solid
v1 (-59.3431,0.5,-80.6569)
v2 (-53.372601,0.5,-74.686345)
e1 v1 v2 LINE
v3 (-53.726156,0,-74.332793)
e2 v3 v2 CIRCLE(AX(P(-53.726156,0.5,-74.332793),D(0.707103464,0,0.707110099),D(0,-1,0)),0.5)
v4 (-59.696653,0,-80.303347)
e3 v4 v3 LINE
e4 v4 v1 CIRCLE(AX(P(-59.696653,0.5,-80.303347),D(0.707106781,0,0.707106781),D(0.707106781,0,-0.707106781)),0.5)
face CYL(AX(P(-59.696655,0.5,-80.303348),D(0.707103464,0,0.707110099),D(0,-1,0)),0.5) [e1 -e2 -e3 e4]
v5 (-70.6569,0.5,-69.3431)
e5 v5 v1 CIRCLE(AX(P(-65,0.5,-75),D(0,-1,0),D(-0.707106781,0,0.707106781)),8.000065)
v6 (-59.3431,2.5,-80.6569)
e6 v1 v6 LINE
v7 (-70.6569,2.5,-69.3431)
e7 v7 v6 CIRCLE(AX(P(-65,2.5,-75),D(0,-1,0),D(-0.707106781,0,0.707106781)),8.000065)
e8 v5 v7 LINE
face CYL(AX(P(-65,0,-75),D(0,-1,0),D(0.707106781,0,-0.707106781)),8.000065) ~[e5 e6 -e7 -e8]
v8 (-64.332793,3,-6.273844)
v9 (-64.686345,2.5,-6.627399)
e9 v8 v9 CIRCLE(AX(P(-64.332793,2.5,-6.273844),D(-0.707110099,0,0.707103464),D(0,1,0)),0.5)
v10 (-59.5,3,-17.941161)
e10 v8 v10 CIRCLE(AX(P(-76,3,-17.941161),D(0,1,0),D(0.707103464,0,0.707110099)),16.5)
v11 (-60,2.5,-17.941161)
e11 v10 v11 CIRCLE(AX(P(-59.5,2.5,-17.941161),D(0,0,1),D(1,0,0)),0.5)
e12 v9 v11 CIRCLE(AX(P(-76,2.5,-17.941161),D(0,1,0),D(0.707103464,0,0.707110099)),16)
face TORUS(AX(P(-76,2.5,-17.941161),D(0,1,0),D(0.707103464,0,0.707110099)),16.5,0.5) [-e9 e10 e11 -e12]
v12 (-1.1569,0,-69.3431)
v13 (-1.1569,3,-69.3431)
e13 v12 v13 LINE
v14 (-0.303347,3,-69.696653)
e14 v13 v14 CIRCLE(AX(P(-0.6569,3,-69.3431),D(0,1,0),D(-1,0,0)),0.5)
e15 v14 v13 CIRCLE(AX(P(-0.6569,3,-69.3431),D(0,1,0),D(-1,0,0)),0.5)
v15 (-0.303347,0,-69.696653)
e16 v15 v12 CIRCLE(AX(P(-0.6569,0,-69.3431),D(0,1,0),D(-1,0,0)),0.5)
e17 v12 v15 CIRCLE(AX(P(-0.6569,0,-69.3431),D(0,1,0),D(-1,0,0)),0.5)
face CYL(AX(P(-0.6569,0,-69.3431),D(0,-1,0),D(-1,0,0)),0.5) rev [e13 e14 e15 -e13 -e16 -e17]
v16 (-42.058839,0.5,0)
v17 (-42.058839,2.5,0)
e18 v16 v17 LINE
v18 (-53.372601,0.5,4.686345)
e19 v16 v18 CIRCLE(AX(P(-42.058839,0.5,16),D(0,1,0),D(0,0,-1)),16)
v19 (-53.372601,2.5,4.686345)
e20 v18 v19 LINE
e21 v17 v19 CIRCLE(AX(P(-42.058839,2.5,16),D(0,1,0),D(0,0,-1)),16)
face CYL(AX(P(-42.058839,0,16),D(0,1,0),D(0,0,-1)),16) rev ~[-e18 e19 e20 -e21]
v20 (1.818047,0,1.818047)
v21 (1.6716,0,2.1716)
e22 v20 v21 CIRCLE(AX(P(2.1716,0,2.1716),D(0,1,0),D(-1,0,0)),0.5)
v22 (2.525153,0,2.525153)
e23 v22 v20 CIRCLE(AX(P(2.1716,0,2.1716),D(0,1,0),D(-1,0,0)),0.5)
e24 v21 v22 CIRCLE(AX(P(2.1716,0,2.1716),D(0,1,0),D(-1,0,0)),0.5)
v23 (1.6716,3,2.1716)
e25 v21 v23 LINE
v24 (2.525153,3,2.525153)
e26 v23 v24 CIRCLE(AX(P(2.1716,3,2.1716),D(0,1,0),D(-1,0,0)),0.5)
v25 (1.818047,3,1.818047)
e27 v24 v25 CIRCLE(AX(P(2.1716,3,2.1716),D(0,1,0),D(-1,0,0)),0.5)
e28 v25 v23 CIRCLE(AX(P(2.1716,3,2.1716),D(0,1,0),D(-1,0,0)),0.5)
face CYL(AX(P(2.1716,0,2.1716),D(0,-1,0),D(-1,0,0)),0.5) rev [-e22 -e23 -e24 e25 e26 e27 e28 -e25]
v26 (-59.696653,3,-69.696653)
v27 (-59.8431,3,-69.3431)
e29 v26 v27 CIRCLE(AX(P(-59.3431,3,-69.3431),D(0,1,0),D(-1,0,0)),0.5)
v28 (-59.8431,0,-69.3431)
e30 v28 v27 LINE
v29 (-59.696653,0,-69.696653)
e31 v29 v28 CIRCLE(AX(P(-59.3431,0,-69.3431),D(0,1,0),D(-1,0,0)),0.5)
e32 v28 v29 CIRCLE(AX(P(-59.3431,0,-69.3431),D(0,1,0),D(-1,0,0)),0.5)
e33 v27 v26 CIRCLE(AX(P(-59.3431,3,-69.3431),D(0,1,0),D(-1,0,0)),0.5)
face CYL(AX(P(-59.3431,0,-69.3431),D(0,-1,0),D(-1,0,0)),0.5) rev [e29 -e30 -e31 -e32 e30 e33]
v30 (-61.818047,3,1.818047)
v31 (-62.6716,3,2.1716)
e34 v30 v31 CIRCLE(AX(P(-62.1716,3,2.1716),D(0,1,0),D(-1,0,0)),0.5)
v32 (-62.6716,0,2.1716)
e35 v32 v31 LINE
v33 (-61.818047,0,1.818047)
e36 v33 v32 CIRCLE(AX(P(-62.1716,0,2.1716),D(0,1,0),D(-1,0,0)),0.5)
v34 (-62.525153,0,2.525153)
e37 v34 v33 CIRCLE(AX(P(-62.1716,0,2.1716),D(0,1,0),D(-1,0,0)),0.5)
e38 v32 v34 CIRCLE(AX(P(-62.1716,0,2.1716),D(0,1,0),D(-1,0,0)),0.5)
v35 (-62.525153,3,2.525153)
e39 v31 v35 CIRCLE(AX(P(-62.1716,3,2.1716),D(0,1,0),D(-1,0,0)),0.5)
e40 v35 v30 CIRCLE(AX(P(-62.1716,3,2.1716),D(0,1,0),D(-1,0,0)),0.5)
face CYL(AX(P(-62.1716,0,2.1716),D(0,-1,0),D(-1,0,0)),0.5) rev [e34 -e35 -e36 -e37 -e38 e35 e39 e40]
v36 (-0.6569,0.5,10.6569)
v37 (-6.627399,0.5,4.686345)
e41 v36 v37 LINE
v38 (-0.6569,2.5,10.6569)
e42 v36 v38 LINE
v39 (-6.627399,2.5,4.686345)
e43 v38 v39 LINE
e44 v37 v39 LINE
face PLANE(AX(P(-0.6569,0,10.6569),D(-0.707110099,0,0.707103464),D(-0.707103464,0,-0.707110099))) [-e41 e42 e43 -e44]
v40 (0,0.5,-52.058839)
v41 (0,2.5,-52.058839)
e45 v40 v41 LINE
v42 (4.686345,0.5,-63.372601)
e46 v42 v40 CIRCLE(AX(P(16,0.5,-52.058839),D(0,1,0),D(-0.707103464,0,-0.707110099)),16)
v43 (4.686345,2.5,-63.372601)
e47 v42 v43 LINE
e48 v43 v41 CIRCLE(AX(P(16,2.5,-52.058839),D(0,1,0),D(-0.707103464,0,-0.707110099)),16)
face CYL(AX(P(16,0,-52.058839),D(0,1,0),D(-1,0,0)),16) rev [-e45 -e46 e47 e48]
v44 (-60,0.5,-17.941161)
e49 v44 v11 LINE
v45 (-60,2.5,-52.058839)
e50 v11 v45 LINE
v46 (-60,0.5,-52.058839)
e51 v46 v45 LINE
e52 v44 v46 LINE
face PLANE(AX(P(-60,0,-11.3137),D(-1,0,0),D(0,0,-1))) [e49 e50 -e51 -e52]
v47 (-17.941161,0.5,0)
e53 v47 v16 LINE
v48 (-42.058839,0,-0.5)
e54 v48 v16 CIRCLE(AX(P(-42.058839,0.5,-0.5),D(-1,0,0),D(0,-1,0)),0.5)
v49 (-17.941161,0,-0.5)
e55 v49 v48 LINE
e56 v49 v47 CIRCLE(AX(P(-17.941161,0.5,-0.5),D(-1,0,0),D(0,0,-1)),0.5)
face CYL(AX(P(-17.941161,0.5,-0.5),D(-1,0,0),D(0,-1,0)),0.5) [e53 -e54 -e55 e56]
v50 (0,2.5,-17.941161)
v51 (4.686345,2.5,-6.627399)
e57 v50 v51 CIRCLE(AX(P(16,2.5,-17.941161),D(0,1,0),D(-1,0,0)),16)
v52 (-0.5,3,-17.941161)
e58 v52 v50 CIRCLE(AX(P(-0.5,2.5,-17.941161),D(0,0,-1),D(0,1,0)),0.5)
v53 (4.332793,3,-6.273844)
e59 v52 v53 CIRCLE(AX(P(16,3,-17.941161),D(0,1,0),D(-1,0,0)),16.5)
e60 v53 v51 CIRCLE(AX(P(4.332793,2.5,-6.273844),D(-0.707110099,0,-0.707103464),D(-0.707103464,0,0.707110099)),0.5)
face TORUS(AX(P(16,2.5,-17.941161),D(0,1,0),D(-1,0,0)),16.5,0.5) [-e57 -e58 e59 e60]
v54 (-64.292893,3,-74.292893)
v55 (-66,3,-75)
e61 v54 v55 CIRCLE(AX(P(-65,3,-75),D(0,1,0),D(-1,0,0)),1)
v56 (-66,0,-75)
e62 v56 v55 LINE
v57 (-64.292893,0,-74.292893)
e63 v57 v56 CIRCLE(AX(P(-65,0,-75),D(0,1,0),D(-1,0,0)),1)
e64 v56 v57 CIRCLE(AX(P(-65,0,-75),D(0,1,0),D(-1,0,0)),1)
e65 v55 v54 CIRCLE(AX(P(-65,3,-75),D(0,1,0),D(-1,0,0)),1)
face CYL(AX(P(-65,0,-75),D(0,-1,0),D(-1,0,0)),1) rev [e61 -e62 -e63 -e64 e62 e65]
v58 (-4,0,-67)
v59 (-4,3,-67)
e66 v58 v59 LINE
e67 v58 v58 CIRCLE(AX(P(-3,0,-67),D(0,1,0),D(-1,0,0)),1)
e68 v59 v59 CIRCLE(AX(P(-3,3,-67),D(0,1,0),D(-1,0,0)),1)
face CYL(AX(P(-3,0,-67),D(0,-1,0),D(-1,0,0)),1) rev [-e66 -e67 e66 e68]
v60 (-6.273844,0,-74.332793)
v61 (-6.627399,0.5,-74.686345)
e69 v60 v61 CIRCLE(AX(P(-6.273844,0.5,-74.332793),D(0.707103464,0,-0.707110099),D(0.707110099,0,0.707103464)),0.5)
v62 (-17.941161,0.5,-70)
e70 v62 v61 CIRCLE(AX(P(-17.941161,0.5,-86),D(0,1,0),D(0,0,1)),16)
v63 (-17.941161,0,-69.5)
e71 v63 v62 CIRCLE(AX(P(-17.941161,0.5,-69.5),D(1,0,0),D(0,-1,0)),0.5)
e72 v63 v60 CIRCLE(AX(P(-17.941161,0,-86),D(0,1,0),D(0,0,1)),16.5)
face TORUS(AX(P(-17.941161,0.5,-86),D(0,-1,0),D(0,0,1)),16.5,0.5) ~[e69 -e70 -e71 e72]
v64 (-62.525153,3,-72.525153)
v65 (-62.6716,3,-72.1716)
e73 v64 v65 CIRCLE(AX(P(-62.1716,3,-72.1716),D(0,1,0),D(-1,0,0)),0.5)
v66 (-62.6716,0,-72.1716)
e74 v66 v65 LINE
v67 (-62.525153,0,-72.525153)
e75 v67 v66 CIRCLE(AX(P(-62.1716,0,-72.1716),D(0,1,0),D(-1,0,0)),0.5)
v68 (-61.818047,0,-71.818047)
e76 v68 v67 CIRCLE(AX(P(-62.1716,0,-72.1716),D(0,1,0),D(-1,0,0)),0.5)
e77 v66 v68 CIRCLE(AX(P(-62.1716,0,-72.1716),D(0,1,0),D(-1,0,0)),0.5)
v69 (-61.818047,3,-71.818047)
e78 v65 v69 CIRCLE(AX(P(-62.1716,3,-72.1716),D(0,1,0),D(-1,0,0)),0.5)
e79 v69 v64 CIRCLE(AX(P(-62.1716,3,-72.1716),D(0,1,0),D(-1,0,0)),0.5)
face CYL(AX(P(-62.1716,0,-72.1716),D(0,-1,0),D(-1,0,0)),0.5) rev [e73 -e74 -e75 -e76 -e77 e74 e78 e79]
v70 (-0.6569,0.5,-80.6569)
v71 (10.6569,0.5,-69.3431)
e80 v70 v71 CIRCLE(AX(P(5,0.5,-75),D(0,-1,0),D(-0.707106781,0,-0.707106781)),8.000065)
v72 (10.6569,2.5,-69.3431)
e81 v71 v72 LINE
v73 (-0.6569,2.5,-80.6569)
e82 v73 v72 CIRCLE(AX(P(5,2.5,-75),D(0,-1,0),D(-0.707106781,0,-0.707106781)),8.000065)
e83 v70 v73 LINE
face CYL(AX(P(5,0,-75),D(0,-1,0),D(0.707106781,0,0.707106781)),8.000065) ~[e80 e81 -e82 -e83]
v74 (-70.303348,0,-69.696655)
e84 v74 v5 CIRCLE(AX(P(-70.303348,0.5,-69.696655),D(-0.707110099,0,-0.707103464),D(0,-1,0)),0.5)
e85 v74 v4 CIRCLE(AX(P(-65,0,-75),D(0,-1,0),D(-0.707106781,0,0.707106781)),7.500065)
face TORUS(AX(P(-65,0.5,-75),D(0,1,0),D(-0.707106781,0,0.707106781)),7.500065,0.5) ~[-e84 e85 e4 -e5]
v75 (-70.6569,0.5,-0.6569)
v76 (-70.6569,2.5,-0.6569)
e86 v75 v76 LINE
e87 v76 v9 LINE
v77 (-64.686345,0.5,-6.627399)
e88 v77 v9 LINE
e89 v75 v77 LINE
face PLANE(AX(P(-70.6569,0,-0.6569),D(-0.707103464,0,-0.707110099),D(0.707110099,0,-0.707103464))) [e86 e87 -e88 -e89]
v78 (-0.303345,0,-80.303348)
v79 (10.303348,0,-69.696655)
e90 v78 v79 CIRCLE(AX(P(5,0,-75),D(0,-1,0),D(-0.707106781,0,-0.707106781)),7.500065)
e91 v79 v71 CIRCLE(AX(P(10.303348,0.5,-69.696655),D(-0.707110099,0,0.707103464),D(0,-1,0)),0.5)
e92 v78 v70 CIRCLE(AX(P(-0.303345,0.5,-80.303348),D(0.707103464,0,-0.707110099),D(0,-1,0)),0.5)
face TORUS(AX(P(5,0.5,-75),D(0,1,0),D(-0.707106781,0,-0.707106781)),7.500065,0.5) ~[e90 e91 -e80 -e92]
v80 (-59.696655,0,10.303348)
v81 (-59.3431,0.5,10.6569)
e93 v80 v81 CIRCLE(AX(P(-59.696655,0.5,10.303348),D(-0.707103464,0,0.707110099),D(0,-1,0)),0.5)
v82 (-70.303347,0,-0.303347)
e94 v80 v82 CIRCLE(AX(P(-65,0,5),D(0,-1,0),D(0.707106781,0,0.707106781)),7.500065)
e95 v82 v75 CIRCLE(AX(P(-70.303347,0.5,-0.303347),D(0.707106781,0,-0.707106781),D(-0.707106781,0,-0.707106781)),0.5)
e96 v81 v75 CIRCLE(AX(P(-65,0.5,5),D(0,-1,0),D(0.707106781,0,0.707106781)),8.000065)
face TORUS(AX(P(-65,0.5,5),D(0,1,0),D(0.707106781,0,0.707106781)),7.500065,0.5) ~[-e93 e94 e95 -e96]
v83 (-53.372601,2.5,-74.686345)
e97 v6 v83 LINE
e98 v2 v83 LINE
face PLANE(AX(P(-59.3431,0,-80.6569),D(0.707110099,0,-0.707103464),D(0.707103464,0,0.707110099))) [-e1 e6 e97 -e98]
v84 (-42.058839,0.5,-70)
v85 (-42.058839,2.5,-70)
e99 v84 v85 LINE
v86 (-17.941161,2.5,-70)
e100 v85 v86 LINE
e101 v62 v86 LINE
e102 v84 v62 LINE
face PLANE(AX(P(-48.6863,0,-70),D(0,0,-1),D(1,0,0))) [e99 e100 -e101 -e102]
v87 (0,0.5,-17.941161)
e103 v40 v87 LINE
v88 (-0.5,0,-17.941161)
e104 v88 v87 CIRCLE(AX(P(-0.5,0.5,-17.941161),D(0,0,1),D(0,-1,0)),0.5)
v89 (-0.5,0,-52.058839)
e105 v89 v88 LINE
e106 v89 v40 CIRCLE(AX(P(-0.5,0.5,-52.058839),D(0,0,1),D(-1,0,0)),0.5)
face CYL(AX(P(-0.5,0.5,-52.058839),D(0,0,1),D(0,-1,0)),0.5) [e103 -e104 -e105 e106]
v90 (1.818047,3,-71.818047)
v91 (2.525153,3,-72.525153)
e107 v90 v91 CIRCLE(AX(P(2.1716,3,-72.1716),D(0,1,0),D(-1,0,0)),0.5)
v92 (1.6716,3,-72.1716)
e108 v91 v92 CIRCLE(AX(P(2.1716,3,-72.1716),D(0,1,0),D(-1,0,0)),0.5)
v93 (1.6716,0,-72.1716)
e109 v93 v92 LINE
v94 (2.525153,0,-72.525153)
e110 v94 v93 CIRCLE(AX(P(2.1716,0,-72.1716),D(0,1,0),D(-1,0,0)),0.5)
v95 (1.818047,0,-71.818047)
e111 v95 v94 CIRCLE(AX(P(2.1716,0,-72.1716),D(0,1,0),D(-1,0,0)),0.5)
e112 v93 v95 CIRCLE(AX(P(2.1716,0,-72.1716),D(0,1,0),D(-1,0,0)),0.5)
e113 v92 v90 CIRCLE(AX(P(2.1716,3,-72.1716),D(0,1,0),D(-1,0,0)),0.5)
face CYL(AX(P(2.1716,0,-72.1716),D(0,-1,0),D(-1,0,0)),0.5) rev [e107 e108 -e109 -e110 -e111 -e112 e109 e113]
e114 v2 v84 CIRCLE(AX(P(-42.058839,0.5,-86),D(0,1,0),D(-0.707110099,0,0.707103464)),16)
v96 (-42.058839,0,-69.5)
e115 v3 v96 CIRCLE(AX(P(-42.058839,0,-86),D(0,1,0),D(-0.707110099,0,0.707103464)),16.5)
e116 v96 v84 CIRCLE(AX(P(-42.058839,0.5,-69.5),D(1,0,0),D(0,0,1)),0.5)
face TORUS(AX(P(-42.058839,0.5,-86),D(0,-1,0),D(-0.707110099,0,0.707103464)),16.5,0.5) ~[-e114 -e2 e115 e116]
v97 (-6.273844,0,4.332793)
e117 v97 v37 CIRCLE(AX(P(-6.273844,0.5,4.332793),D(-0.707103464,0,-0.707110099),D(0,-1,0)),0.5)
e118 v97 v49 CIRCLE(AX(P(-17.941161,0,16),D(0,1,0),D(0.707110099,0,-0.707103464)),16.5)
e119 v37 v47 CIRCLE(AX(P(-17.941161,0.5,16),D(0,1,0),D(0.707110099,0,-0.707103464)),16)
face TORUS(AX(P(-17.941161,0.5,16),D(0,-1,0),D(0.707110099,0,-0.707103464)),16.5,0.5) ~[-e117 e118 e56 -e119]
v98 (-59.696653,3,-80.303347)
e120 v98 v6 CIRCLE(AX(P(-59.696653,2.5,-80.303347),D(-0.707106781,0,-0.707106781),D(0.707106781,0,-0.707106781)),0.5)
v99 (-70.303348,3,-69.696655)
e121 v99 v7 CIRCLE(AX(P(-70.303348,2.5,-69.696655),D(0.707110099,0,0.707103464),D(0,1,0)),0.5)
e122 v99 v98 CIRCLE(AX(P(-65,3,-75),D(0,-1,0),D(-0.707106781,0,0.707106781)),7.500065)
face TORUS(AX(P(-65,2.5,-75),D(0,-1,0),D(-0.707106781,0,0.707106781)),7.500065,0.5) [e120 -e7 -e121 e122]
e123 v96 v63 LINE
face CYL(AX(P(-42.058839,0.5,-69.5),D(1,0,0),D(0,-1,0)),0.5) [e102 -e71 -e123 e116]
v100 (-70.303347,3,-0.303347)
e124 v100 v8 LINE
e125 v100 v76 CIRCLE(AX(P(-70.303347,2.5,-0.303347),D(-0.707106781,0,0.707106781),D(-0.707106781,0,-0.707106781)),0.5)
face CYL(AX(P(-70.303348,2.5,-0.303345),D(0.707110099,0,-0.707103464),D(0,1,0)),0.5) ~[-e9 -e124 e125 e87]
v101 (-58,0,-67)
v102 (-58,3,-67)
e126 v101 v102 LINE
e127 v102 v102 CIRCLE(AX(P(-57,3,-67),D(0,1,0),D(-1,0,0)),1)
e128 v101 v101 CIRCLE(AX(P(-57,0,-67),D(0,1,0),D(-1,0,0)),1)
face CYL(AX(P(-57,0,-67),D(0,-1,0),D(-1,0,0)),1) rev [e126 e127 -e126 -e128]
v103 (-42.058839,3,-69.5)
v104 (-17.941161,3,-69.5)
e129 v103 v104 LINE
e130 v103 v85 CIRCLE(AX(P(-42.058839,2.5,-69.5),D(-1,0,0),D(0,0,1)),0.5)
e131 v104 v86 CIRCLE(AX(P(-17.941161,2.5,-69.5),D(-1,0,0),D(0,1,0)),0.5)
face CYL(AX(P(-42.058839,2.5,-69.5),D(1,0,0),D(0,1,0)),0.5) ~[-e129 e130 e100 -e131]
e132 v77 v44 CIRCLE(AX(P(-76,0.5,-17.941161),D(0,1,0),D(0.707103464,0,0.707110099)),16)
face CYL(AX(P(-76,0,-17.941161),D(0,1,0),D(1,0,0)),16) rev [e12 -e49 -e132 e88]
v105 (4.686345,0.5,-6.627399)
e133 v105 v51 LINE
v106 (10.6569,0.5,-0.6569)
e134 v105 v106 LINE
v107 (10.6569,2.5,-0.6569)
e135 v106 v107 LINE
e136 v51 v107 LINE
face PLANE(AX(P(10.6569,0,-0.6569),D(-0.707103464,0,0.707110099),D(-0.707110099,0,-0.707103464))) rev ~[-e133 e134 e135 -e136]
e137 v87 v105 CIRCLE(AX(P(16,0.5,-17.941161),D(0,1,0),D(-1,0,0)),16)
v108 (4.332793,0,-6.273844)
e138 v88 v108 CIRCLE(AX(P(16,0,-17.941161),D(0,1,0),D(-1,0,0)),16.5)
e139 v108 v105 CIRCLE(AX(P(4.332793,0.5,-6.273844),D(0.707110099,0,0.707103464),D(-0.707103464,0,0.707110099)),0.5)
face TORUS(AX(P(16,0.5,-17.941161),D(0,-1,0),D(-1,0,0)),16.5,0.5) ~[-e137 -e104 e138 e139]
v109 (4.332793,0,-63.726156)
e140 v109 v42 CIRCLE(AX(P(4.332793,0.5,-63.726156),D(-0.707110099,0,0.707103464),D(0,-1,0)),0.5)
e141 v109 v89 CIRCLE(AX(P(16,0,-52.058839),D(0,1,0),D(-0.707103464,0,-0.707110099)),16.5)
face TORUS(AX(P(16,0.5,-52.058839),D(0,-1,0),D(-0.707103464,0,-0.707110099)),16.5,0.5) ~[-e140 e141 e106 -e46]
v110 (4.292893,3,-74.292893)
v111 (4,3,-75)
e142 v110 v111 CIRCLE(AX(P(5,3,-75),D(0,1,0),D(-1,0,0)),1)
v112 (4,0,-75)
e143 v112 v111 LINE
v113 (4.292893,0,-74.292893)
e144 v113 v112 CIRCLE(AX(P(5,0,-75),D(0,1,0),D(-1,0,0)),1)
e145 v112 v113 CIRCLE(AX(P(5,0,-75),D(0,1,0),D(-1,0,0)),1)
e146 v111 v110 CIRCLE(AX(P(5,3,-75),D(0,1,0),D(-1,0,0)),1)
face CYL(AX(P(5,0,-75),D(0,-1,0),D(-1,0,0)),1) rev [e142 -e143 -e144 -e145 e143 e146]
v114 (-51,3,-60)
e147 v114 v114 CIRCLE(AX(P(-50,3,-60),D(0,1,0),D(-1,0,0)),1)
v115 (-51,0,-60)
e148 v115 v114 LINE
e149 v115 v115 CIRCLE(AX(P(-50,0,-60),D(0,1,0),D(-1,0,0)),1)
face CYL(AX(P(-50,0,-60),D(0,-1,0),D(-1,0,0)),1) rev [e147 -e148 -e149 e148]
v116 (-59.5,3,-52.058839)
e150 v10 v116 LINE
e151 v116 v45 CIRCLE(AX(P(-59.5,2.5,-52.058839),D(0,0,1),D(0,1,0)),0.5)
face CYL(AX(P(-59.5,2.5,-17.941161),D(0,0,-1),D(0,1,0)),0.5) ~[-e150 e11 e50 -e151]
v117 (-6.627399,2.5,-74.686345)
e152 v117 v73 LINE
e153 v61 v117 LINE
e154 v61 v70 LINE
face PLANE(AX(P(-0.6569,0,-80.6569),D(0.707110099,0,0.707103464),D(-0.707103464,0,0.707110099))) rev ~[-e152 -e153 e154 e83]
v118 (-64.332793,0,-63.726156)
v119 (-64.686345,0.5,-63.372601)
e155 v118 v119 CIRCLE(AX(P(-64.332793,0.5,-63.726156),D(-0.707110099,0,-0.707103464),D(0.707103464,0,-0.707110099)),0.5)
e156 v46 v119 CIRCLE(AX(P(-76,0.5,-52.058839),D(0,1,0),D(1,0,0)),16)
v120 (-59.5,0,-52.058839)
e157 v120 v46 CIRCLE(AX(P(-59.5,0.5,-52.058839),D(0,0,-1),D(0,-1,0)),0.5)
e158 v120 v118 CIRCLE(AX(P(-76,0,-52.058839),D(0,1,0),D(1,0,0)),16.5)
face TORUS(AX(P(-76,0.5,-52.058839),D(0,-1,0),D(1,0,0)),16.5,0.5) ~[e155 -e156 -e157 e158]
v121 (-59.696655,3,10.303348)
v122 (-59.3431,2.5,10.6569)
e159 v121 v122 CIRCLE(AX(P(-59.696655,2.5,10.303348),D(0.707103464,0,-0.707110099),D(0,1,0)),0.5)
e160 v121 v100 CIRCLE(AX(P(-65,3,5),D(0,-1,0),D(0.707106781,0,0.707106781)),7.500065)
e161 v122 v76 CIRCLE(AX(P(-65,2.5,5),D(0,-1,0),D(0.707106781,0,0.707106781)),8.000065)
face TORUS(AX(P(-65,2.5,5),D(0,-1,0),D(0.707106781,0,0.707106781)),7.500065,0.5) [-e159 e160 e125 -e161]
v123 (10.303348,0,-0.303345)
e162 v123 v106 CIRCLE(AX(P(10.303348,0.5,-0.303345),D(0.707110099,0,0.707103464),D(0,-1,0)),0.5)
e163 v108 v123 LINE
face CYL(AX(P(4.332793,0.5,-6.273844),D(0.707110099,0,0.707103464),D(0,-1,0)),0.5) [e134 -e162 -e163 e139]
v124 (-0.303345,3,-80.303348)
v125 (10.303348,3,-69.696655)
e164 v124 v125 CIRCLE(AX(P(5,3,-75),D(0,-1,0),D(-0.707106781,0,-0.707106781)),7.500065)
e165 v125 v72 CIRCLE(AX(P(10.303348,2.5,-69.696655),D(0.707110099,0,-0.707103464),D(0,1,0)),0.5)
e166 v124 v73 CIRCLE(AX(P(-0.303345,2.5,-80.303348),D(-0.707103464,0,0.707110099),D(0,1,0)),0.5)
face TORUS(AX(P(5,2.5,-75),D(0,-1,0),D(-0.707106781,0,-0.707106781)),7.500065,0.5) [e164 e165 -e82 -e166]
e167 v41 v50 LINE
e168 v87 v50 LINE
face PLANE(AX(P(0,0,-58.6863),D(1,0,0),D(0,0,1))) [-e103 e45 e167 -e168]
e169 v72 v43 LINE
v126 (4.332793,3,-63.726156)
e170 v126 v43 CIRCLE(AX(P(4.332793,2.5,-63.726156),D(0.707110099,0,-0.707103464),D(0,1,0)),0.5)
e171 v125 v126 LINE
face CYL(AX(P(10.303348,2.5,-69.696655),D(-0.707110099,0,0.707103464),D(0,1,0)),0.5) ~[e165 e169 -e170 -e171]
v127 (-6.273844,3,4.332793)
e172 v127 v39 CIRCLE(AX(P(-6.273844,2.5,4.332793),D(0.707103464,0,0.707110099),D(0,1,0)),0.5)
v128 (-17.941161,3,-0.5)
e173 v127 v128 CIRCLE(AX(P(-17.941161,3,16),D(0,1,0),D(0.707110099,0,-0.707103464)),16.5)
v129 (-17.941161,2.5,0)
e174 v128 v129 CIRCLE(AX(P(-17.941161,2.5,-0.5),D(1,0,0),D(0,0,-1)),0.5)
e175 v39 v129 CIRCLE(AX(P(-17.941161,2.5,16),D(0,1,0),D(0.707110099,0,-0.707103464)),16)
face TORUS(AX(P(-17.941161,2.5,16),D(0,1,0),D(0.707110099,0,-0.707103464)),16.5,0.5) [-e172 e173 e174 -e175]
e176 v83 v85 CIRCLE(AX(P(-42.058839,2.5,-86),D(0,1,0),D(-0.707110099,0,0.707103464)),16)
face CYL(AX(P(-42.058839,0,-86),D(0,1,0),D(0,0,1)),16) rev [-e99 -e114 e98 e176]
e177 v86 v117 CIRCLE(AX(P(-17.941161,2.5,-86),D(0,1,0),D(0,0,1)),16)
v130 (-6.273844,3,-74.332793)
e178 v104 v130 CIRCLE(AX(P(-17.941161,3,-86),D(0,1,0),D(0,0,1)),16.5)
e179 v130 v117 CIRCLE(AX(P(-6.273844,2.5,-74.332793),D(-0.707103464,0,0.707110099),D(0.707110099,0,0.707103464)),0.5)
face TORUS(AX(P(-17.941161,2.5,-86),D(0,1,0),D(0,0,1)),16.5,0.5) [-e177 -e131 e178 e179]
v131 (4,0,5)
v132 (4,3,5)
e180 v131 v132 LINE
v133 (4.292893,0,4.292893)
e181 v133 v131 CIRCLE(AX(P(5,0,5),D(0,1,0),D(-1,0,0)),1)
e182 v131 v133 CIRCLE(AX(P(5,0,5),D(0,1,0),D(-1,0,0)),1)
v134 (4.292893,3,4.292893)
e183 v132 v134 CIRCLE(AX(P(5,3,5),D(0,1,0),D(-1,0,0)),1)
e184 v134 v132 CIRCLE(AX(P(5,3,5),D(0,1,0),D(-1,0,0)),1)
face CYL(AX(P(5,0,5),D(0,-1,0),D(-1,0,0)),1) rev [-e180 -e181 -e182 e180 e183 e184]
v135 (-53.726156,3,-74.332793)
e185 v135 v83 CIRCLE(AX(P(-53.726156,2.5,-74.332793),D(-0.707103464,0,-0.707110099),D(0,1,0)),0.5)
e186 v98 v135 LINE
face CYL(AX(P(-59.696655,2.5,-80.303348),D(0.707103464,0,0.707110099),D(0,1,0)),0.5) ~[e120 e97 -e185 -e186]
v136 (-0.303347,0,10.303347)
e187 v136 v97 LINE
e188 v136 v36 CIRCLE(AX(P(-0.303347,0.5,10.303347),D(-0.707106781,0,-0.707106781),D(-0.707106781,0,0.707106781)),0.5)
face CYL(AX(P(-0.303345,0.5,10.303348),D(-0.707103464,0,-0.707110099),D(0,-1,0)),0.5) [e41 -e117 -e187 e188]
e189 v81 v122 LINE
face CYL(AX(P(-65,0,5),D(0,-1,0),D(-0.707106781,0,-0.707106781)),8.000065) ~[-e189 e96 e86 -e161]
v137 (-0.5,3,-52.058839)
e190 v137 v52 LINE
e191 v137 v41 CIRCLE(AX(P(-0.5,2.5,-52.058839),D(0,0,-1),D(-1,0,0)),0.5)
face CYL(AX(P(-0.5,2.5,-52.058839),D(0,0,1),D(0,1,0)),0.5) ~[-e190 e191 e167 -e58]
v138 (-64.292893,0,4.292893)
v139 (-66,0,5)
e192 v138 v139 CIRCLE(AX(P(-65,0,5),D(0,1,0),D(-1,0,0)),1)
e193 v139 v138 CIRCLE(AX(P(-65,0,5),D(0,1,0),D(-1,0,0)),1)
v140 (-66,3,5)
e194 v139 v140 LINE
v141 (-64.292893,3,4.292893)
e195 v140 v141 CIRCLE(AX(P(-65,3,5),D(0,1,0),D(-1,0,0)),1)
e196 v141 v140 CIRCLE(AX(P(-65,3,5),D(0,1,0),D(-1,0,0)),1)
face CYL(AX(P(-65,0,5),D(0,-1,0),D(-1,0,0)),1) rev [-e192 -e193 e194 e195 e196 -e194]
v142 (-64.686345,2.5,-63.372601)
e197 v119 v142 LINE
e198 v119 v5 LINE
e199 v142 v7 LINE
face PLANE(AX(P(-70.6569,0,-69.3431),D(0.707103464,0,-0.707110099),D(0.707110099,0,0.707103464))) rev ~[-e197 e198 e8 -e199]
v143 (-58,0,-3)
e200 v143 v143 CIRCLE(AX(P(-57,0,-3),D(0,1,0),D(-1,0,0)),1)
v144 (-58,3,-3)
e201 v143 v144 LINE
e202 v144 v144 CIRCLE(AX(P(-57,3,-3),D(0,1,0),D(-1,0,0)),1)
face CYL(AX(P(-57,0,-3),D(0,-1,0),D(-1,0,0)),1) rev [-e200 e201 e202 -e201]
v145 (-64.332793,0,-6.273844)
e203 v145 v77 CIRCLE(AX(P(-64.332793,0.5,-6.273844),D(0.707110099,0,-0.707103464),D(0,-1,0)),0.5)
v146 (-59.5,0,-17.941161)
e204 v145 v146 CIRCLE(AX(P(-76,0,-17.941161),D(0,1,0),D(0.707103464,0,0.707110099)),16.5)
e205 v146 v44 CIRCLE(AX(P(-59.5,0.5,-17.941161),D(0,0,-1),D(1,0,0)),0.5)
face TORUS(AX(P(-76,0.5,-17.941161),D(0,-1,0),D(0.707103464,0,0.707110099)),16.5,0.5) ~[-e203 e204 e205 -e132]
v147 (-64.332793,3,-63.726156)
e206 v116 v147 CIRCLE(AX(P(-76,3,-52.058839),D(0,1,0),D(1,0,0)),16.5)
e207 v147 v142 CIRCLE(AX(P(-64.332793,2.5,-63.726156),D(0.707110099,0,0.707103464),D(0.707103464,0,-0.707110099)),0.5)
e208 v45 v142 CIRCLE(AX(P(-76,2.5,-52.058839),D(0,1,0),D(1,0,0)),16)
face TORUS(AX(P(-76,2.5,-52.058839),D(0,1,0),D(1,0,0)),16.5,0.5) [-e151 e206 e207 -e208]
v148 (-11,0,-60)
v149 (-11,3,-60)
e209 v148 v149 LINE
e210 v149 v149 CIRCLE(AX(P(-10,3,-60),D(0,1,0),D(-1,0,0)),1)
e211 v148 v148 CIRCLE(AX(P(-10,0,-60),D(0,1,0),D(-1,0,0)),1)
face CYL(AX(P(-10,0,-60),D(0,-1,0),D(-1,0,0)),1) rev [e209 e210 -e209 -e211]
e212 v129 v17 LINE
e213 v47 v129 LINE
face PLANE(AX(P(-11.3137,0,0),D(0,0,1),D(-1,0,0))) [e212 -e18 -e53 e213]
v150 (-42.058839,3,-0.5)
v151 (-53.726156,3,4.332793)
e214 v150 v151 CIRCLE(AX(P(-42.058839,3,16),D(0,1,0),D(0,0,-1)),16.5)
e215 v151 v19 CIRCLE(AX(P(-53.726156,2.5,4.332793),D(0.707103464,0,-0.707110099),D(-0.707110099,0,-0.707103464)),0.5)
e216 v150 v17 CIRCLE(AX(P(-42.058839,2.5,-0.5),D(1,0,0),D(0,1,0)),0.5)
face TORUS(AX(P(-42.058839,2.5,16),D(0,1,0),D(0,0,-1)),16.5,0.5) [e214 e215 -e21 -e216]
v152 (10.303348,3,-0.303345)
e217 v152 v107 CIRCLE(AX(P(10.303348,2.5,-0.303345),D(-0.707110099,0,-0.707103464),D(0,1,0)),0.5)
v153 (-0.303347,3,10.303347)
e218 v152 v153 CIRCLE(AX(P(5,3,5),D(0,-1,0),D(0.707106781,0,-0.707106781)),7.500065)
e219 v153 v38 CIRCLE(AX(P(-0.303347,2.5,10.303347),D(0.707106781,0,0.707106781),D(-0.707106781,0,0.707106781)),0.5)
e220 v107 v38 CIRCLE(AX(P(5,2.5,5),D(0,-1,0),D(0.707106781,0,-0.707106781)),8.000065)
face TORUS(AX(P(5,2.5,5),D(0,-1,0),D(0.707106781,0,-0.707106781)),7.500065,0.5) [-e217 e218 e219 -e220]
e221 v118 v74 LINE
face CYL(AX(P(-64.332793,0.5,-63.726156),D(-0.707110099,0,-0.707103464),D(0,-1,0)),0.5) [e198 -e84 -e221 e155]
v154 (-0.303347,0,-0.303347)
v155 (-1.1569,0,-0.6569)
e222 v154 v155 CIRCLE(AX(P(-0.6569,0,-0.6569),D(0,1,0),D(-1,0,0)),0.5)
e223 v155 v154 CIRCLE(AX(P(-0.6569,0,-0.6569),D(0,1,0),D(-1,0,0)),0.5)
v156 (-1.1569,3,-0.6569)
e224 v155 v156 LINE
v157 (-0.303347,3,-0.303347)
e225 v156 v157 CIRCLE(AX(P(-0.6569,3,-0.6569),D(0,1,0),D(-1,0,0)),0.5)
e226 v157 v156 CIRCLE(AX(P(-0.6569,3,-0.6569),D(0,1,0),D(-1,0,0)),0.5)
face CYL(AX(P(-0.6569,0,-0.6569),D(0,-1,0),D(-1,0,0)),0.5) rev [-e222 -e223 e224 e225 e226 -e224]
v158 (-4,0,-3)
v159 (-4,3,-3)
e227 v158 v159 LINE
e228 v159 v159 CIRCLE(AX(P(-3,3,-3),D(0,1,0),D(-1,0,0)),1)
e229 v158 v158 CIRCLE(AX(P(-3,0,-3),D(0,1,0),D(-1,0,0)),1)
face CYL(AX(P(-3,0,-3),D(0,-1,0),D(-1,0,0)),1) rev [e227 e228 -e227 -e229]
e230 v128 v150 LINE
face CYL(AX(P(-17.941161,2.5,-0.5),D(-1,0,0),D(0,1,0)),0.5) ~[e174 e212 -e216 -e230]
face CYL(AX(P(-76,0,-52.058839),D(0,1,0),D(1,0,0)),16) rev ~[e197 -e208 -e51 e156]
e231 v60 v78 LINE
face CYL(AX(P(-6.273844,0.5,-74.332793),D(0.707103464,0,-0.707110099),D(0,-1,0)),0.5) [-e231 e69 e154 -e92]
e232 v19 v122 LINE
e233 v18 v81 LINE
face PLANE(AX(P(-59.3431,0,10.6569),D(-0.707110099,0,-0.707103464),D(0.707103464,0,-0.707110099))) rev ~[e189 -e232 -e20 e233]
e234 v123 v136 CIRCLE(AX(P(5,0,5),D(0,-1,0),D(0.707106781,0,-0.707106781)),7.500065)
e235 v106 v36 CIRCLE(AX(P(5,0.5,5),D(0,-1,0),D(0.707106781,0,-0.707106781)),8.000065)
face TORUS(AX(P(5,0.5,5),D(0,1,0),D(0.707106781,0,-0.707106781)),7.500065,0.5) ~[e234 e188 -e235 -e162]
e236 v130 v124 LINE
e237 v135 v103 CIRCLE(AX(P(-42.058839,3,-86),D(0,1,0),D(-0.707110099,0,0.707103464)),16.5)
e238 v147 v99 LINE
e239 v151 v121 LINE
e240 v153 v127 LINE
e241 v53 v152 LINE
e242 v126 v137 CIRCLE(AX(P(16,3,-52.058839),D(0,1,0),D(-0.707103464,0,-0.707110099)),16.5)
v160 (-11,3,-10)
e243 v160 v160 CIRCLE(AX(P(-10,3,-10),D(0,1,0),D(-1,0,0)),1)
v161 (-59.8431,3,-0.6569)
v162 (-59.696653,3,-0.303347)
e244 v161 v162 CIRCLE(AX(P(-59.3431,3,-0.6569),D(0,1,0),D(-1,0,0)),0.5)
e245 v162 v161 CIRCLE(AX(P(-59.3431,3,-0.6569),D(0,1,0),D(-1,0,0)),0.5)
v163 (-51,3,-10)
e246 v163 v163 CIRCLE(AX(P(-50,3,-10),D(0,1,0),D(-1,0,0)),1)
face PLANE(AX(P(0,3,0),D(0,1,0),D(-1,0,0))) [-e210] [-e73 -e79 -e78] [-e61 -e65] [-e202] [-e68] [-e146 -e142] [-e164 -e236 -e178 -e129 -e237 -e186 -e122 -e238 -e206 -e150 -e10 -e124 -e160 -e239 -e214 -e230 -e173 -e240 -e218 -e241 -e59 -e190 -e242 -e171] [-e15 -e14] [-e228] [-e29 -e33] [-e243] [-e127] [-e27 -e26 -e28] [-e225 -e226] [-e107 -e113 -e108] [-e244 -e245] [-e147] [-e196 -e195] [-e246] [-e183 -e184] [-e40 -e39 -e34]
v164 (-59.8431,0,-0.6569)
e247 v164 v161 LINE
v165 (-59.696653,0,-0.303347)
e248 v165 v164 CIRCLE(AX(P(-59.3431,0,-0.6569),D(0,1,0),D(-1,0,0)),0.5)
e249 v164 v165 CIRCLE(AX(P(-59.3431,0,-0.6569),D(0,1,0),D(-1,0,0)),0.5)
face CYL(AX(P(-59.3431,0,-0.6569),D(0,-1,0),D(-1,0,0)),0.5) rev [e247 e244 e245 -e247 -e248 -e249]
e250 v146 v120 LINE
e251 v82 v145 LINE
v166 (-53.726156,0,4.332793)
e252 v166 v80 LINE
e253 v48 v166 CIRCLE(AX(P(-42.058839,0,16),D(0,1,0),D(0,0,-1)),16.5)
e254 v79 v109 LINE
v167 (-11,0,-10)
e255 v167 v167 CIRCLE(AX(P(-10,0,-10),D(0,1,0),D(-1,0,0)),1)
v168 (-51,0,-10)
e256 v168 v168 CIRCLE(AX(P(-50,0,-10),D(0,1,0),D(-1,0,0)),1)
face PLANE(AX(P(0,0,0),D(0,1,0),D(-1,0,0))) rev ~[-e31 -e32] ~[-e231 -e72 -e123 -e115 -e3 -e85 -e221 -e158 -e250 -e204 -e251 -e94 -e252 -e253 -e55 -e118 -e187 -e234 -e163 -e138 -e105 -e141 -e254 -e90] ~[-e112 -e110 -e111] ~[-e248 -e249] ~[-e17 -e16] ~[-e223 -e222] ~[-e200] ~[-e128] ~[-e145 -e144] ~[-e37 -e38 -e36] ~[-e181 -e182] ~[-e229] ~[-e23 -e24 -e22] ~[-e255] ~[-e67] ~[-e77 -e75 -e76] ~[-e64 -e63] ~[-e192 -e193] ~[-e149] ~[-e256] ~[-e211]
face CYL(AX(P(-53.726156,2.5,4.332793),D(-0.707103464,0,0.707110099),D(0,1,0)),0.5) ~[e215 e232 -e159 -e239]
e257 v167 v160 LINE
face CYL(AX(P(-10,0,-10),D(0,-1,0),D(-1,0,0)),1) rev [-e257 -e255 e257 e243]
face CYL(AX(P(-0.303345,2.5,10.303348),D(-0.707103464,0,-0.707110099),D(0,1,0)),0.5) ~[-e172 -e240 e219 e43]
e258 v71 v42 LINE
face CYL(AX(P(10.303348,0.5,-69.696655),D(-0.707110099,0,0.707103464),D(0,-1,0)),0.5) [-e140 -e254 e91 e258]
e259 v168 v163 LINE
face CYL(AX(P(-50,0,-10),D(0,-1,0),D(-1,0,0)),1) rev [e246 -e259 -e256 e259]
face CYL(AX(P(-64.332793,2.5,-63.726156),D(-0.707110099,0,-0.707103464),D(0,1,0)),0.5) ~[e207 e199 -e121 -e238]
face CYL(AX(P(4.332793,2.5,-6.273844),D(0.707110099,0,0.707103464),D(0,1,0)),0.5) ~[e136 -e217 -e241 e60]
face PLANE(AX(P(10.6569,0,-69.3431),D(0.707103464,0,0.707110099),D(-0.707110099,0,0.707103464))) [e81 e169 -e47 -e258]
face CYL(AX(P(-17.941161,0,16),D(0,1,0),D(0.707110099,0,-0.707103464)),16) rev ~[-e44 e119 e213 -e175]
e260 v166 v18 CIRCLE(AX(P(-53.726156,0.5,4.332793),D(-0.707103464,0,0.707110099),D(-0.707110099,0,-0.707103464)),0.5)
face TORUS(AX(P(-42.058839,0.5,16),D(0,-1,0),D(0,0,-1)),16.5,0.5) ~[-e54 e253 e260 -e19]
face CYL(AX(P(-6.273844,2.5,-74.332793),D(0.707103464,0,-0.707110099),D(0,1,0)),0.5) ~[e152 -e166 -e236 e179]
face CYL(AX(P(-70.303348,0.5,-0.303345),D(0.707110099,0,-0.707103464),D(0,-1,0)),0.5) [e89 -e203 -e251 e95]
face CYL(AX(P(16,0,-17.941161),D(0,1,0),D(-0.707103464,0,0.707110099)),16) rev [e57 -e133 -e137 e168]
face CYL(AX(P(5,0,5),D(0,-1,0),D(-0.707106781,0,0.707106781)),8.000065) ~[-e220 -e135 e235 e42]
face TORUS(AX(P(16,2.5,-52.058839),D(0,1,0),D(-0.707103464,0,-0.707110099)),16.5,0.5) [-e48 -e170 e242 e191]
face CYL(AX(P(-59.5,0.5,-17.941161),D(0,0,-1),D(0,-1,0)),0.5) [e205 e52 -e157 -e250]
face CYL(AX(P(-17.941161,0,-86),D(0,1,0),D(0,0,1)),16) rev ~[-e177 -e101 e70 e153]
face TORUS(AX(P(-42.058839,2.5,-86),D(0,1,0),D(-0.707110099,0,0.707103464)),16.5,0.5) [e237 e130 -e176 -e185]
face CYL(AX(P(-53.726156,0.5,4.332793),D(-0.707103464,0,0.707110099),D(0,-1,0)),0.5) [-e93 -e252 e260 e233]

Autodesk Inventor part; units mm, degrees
ref_plane "YZ Plane" through (0, 0, 0) normal (1, 0, 0) x (0, 1, 0)
ref_plane "XZ Plane" through (0, 0, 0) normal (0, 1, 0) x (-1, 0, 0)
ref_plane "XY Plane" through (0, 0, 0) normal (0, 0, 1) x (1, 0, 0)
sketch "Sketch1" plane through (0, 0, 0) normal (0, 1, 0) x (-1, 0, 0)
  line L0 (0, 0) -> (60, 0)
  line L1 (60, 0) -> (60, -70)
  line L2 (60, -70) -> (0, -70)
  line L3 (0, -70) -> (0, 0)
  circle A0 centre (3, -3) radius 1
  circle A1 centre (57, -3) radius 1
  circle A2 centre (57, -67) radius 1
  circle A3 centre (3, -67) radius 1
  circle A4 centre (65, 5) radius 1
  circle A5 centre (65, -75) radius 1
  circle A6 centre (-5, -75) radius 1
  circle A7 centre (-5, 5) radius 1
  arc A8 (0.6569, 10.6569) -> (-10.6569, -0.6569) centre (-5, 5) ccw
  line L4 (-5, 5) -> (0.6569, 10.6569) construction
  line L5 (-5, 5) -> (3, 5) construction
  line L6 (-5, 5) -> (-10.6569, -0.6569) construction
  arc A9 (70.6569, -0.6569) -> (59.3431, 10.6569) centre (65, 5) ccw
  line L7 (65, 5) -> (70.6569, -0.6569) construction
  line L8 (65, 5) -> (73, 5) construction
  line L9 (65, 5) -> (59.3431, 10.6569) construction
  arc A10 (59.3431, -80.6569) -> (70.6569, -69.3431) centre (65, -75) ccw
  line L10 (65, -75) -> (59.3431, -80.6569) construction
  line L11 (65, -75) -> (73, -75) construction
  line L12 (65, -75) -> (70.6569, -69.3431) construction
  arc A11 (-10.6569, -69.3431) -> (0.6569, -80.6569) centre (-5, -75) ccw
  line L13 (-5, -75) -> (0.6569, -80.6569) construction
  line L14 (-5, -75) -> (3, -75) construction
  line L15 (-5, -75) -> (-10.6569, -69.3431) construction
  line L16 (70.6569, -0.6569) -> (60, -11.3137)
  line L17 (59.3431, 10.6569) -> (48.6863, 0)
  line L18 (0.6569, 10.6569) -> (11.3137, 0)
  line L19 (-10.6569, -0.6569) -> (0, -11.3137)
  line L20 (-10.6569, -69.3431) -> (0, -58.6863)
  line L21 (0.6569, -80.6569) -> (11.3137, -70)
  line L22 (59.3431, -80.6569) -> (48.6863, -70)
  line L23 (70.6569, -69.3431) -> (60, -58.6863)
  circle A12 centre (62.1716, 2.1716) radius 0.5
  circle A13 centre (59.3431, -0.6569) radius 0.5
  line L24 (65, 5) -> (62.1716, 2.1716)
  line L25 (65, 5) -> (69, 5) construction
  line L26 (62.1716, 2.1716) -> (59.3431, -0.6569)
  line L27 (-5, 5) -> (-2.1716, 2.1716)
  line L28 (-2.1716, 2.1716) -> (0.6569, -0.6569)
  circle A14 centre (0.6569, -0.6569) radius 0.5
  circle A15 centre (-2.1716, 2.1716) radius 0.5
  line L29 (-5, -75) -> (-2.1716, -72.1716)
  line L30 (-2.1716, -72.1716) -> (0.6569, -69.3431)
  circle A16 centre (0.6569, -69.3431) radius 0.5
  circle A17 centre (-2.1716, -72.1716) radius 0.5
  line L31 (65, -75) -> (62.1716, -72.1716)
  line L32 (62.1716, -72.1716) -> (59.3431, -69.3431)
  circle A18 centre (59.3431, -69.3431) radius 0.5
  circle A19 centre (62.1716, -72.1716) radius 0.5
  circle A20 centre (50, -10) radius 1
  circle A21 centre (10, -10) radius 1
  circle A22 centre (50, -60) radius 1
  circle A23 centre (10, -60) radius 1
  dimension "d0" = 60
  dimension "d1" = 70
  dimension "d2" = 2
  dimension "d3" = 2
  dimension "d4" = 2
  dimension "d5" = 2
  dimension "d6" = 3
  dimension "d7" = 3
  dimension "d8" = 3
  dimension "d9" = 3
  dimension "d10" = 3
  dimension "d11" = 3
  dimension "d12" = 3
  dimension "d13" = 3
  dimension "d19" = 2
  dimension "d20" = 2
  dimension "d21" = 2
  dimension "d22" = 2
  dimension "d23" = 5
  dimension "d24" = 5
  dimension "d25" = 5
  dimension "d26" = 5
  dimension "d27" = 5
  dimension "d28" = 5
  dimension "d29" = 5
  dimension "d30" = 5
  dimension "d32" = 8
  dimension "d33" = 45
  dimension "d34" = 180
  dimension "d35" = 8
  dimension "d36" = 45
  dimension "d37" = 180
  dimension "d38" = 8
  dimension "d39" = 135
  dimension "d40" = 180
  dimension "d41" = 8
  dimension "d42" = 45
  dimension "d43" = 180
  dimension "d48" = 1
  dimension "d49" = 1
  dimension "d50" = 4
  dimension "d51" = 135
  dimension "d52" = 4
  dimension "d53" = 1
  dimension "d54" = 1
  dimension "d55" = 1
  dimension "d56" = 1
  dimension "d57" = 1
  dimension "d58" = 1
  dimension "d64" = 2
  dimension "d65" = 2
  dimension "d66" = 2
  dimension "d67" = 2
  dimension "d68" = 10
  dimension "d69" = 10
  dimension "d70" = 10
  dimension "d71" = 10
  dimension "d72" = 10
  dimension "d73" = 10
  dimension "d74" = 10
  dimension "d75" = 10
extrude "Extrusion4" add sketch "Sketch1" along normal blind 3
fillet "Fillet6" radius 16 8 edges at (-60, 1.5, -11.3137) (-11.3137, 1.5, -70) (-60, 1.5, -58.6863) (-11.3137, 1.5, 0) (-48.6863, 1.5, -70) (0, 1.5, -11.3137) (-48.6863, 1.5, 0) (0, 1.5, -58.6863)
fillet "Fillet7" radius 0.5 32 edges at (7.6716, 0, -66.3579) (10.6569, 0, -80.6569) (-3.6421, 0, -77.6716) (-30, 0, -70) (-56.3579, 0, -77.6716) (-70.6569, 0, -80.6569) (-67.6716, 0, -66.3579) (-60, 0, -35) (-67.6716, 0, -3.6421) (-70.6569, 0, 10.6569) (-56.3579, 0, 7.6716) (-30, 0, 0) (-3.6421, 0, 7.6716) (10.6569, 0, 10.6569) (7.6716, 0, -3.6421) (0, 0, -35) (7.6716, 3, -66.3579) (10.6569, 3, -80.6569) (-3.6421, 3, -77.6716) (-30, 3, -70) (-56.3579, 3, -77.6716) (-70.6569, 3, -80.6569) (-67.6716, 3, -66.3579) (-60, 3, -35) (-67.6716, 3, -3.6421) (-70.6569, 3, 10.6569) (-56.3579, 3, 7.6716) (-30, 3, 0) (-3.6421, 3, 7.6716) (10.6569, 3, 10.6569) (7.6716, 3, -3.6421) (0, 3, -35)
